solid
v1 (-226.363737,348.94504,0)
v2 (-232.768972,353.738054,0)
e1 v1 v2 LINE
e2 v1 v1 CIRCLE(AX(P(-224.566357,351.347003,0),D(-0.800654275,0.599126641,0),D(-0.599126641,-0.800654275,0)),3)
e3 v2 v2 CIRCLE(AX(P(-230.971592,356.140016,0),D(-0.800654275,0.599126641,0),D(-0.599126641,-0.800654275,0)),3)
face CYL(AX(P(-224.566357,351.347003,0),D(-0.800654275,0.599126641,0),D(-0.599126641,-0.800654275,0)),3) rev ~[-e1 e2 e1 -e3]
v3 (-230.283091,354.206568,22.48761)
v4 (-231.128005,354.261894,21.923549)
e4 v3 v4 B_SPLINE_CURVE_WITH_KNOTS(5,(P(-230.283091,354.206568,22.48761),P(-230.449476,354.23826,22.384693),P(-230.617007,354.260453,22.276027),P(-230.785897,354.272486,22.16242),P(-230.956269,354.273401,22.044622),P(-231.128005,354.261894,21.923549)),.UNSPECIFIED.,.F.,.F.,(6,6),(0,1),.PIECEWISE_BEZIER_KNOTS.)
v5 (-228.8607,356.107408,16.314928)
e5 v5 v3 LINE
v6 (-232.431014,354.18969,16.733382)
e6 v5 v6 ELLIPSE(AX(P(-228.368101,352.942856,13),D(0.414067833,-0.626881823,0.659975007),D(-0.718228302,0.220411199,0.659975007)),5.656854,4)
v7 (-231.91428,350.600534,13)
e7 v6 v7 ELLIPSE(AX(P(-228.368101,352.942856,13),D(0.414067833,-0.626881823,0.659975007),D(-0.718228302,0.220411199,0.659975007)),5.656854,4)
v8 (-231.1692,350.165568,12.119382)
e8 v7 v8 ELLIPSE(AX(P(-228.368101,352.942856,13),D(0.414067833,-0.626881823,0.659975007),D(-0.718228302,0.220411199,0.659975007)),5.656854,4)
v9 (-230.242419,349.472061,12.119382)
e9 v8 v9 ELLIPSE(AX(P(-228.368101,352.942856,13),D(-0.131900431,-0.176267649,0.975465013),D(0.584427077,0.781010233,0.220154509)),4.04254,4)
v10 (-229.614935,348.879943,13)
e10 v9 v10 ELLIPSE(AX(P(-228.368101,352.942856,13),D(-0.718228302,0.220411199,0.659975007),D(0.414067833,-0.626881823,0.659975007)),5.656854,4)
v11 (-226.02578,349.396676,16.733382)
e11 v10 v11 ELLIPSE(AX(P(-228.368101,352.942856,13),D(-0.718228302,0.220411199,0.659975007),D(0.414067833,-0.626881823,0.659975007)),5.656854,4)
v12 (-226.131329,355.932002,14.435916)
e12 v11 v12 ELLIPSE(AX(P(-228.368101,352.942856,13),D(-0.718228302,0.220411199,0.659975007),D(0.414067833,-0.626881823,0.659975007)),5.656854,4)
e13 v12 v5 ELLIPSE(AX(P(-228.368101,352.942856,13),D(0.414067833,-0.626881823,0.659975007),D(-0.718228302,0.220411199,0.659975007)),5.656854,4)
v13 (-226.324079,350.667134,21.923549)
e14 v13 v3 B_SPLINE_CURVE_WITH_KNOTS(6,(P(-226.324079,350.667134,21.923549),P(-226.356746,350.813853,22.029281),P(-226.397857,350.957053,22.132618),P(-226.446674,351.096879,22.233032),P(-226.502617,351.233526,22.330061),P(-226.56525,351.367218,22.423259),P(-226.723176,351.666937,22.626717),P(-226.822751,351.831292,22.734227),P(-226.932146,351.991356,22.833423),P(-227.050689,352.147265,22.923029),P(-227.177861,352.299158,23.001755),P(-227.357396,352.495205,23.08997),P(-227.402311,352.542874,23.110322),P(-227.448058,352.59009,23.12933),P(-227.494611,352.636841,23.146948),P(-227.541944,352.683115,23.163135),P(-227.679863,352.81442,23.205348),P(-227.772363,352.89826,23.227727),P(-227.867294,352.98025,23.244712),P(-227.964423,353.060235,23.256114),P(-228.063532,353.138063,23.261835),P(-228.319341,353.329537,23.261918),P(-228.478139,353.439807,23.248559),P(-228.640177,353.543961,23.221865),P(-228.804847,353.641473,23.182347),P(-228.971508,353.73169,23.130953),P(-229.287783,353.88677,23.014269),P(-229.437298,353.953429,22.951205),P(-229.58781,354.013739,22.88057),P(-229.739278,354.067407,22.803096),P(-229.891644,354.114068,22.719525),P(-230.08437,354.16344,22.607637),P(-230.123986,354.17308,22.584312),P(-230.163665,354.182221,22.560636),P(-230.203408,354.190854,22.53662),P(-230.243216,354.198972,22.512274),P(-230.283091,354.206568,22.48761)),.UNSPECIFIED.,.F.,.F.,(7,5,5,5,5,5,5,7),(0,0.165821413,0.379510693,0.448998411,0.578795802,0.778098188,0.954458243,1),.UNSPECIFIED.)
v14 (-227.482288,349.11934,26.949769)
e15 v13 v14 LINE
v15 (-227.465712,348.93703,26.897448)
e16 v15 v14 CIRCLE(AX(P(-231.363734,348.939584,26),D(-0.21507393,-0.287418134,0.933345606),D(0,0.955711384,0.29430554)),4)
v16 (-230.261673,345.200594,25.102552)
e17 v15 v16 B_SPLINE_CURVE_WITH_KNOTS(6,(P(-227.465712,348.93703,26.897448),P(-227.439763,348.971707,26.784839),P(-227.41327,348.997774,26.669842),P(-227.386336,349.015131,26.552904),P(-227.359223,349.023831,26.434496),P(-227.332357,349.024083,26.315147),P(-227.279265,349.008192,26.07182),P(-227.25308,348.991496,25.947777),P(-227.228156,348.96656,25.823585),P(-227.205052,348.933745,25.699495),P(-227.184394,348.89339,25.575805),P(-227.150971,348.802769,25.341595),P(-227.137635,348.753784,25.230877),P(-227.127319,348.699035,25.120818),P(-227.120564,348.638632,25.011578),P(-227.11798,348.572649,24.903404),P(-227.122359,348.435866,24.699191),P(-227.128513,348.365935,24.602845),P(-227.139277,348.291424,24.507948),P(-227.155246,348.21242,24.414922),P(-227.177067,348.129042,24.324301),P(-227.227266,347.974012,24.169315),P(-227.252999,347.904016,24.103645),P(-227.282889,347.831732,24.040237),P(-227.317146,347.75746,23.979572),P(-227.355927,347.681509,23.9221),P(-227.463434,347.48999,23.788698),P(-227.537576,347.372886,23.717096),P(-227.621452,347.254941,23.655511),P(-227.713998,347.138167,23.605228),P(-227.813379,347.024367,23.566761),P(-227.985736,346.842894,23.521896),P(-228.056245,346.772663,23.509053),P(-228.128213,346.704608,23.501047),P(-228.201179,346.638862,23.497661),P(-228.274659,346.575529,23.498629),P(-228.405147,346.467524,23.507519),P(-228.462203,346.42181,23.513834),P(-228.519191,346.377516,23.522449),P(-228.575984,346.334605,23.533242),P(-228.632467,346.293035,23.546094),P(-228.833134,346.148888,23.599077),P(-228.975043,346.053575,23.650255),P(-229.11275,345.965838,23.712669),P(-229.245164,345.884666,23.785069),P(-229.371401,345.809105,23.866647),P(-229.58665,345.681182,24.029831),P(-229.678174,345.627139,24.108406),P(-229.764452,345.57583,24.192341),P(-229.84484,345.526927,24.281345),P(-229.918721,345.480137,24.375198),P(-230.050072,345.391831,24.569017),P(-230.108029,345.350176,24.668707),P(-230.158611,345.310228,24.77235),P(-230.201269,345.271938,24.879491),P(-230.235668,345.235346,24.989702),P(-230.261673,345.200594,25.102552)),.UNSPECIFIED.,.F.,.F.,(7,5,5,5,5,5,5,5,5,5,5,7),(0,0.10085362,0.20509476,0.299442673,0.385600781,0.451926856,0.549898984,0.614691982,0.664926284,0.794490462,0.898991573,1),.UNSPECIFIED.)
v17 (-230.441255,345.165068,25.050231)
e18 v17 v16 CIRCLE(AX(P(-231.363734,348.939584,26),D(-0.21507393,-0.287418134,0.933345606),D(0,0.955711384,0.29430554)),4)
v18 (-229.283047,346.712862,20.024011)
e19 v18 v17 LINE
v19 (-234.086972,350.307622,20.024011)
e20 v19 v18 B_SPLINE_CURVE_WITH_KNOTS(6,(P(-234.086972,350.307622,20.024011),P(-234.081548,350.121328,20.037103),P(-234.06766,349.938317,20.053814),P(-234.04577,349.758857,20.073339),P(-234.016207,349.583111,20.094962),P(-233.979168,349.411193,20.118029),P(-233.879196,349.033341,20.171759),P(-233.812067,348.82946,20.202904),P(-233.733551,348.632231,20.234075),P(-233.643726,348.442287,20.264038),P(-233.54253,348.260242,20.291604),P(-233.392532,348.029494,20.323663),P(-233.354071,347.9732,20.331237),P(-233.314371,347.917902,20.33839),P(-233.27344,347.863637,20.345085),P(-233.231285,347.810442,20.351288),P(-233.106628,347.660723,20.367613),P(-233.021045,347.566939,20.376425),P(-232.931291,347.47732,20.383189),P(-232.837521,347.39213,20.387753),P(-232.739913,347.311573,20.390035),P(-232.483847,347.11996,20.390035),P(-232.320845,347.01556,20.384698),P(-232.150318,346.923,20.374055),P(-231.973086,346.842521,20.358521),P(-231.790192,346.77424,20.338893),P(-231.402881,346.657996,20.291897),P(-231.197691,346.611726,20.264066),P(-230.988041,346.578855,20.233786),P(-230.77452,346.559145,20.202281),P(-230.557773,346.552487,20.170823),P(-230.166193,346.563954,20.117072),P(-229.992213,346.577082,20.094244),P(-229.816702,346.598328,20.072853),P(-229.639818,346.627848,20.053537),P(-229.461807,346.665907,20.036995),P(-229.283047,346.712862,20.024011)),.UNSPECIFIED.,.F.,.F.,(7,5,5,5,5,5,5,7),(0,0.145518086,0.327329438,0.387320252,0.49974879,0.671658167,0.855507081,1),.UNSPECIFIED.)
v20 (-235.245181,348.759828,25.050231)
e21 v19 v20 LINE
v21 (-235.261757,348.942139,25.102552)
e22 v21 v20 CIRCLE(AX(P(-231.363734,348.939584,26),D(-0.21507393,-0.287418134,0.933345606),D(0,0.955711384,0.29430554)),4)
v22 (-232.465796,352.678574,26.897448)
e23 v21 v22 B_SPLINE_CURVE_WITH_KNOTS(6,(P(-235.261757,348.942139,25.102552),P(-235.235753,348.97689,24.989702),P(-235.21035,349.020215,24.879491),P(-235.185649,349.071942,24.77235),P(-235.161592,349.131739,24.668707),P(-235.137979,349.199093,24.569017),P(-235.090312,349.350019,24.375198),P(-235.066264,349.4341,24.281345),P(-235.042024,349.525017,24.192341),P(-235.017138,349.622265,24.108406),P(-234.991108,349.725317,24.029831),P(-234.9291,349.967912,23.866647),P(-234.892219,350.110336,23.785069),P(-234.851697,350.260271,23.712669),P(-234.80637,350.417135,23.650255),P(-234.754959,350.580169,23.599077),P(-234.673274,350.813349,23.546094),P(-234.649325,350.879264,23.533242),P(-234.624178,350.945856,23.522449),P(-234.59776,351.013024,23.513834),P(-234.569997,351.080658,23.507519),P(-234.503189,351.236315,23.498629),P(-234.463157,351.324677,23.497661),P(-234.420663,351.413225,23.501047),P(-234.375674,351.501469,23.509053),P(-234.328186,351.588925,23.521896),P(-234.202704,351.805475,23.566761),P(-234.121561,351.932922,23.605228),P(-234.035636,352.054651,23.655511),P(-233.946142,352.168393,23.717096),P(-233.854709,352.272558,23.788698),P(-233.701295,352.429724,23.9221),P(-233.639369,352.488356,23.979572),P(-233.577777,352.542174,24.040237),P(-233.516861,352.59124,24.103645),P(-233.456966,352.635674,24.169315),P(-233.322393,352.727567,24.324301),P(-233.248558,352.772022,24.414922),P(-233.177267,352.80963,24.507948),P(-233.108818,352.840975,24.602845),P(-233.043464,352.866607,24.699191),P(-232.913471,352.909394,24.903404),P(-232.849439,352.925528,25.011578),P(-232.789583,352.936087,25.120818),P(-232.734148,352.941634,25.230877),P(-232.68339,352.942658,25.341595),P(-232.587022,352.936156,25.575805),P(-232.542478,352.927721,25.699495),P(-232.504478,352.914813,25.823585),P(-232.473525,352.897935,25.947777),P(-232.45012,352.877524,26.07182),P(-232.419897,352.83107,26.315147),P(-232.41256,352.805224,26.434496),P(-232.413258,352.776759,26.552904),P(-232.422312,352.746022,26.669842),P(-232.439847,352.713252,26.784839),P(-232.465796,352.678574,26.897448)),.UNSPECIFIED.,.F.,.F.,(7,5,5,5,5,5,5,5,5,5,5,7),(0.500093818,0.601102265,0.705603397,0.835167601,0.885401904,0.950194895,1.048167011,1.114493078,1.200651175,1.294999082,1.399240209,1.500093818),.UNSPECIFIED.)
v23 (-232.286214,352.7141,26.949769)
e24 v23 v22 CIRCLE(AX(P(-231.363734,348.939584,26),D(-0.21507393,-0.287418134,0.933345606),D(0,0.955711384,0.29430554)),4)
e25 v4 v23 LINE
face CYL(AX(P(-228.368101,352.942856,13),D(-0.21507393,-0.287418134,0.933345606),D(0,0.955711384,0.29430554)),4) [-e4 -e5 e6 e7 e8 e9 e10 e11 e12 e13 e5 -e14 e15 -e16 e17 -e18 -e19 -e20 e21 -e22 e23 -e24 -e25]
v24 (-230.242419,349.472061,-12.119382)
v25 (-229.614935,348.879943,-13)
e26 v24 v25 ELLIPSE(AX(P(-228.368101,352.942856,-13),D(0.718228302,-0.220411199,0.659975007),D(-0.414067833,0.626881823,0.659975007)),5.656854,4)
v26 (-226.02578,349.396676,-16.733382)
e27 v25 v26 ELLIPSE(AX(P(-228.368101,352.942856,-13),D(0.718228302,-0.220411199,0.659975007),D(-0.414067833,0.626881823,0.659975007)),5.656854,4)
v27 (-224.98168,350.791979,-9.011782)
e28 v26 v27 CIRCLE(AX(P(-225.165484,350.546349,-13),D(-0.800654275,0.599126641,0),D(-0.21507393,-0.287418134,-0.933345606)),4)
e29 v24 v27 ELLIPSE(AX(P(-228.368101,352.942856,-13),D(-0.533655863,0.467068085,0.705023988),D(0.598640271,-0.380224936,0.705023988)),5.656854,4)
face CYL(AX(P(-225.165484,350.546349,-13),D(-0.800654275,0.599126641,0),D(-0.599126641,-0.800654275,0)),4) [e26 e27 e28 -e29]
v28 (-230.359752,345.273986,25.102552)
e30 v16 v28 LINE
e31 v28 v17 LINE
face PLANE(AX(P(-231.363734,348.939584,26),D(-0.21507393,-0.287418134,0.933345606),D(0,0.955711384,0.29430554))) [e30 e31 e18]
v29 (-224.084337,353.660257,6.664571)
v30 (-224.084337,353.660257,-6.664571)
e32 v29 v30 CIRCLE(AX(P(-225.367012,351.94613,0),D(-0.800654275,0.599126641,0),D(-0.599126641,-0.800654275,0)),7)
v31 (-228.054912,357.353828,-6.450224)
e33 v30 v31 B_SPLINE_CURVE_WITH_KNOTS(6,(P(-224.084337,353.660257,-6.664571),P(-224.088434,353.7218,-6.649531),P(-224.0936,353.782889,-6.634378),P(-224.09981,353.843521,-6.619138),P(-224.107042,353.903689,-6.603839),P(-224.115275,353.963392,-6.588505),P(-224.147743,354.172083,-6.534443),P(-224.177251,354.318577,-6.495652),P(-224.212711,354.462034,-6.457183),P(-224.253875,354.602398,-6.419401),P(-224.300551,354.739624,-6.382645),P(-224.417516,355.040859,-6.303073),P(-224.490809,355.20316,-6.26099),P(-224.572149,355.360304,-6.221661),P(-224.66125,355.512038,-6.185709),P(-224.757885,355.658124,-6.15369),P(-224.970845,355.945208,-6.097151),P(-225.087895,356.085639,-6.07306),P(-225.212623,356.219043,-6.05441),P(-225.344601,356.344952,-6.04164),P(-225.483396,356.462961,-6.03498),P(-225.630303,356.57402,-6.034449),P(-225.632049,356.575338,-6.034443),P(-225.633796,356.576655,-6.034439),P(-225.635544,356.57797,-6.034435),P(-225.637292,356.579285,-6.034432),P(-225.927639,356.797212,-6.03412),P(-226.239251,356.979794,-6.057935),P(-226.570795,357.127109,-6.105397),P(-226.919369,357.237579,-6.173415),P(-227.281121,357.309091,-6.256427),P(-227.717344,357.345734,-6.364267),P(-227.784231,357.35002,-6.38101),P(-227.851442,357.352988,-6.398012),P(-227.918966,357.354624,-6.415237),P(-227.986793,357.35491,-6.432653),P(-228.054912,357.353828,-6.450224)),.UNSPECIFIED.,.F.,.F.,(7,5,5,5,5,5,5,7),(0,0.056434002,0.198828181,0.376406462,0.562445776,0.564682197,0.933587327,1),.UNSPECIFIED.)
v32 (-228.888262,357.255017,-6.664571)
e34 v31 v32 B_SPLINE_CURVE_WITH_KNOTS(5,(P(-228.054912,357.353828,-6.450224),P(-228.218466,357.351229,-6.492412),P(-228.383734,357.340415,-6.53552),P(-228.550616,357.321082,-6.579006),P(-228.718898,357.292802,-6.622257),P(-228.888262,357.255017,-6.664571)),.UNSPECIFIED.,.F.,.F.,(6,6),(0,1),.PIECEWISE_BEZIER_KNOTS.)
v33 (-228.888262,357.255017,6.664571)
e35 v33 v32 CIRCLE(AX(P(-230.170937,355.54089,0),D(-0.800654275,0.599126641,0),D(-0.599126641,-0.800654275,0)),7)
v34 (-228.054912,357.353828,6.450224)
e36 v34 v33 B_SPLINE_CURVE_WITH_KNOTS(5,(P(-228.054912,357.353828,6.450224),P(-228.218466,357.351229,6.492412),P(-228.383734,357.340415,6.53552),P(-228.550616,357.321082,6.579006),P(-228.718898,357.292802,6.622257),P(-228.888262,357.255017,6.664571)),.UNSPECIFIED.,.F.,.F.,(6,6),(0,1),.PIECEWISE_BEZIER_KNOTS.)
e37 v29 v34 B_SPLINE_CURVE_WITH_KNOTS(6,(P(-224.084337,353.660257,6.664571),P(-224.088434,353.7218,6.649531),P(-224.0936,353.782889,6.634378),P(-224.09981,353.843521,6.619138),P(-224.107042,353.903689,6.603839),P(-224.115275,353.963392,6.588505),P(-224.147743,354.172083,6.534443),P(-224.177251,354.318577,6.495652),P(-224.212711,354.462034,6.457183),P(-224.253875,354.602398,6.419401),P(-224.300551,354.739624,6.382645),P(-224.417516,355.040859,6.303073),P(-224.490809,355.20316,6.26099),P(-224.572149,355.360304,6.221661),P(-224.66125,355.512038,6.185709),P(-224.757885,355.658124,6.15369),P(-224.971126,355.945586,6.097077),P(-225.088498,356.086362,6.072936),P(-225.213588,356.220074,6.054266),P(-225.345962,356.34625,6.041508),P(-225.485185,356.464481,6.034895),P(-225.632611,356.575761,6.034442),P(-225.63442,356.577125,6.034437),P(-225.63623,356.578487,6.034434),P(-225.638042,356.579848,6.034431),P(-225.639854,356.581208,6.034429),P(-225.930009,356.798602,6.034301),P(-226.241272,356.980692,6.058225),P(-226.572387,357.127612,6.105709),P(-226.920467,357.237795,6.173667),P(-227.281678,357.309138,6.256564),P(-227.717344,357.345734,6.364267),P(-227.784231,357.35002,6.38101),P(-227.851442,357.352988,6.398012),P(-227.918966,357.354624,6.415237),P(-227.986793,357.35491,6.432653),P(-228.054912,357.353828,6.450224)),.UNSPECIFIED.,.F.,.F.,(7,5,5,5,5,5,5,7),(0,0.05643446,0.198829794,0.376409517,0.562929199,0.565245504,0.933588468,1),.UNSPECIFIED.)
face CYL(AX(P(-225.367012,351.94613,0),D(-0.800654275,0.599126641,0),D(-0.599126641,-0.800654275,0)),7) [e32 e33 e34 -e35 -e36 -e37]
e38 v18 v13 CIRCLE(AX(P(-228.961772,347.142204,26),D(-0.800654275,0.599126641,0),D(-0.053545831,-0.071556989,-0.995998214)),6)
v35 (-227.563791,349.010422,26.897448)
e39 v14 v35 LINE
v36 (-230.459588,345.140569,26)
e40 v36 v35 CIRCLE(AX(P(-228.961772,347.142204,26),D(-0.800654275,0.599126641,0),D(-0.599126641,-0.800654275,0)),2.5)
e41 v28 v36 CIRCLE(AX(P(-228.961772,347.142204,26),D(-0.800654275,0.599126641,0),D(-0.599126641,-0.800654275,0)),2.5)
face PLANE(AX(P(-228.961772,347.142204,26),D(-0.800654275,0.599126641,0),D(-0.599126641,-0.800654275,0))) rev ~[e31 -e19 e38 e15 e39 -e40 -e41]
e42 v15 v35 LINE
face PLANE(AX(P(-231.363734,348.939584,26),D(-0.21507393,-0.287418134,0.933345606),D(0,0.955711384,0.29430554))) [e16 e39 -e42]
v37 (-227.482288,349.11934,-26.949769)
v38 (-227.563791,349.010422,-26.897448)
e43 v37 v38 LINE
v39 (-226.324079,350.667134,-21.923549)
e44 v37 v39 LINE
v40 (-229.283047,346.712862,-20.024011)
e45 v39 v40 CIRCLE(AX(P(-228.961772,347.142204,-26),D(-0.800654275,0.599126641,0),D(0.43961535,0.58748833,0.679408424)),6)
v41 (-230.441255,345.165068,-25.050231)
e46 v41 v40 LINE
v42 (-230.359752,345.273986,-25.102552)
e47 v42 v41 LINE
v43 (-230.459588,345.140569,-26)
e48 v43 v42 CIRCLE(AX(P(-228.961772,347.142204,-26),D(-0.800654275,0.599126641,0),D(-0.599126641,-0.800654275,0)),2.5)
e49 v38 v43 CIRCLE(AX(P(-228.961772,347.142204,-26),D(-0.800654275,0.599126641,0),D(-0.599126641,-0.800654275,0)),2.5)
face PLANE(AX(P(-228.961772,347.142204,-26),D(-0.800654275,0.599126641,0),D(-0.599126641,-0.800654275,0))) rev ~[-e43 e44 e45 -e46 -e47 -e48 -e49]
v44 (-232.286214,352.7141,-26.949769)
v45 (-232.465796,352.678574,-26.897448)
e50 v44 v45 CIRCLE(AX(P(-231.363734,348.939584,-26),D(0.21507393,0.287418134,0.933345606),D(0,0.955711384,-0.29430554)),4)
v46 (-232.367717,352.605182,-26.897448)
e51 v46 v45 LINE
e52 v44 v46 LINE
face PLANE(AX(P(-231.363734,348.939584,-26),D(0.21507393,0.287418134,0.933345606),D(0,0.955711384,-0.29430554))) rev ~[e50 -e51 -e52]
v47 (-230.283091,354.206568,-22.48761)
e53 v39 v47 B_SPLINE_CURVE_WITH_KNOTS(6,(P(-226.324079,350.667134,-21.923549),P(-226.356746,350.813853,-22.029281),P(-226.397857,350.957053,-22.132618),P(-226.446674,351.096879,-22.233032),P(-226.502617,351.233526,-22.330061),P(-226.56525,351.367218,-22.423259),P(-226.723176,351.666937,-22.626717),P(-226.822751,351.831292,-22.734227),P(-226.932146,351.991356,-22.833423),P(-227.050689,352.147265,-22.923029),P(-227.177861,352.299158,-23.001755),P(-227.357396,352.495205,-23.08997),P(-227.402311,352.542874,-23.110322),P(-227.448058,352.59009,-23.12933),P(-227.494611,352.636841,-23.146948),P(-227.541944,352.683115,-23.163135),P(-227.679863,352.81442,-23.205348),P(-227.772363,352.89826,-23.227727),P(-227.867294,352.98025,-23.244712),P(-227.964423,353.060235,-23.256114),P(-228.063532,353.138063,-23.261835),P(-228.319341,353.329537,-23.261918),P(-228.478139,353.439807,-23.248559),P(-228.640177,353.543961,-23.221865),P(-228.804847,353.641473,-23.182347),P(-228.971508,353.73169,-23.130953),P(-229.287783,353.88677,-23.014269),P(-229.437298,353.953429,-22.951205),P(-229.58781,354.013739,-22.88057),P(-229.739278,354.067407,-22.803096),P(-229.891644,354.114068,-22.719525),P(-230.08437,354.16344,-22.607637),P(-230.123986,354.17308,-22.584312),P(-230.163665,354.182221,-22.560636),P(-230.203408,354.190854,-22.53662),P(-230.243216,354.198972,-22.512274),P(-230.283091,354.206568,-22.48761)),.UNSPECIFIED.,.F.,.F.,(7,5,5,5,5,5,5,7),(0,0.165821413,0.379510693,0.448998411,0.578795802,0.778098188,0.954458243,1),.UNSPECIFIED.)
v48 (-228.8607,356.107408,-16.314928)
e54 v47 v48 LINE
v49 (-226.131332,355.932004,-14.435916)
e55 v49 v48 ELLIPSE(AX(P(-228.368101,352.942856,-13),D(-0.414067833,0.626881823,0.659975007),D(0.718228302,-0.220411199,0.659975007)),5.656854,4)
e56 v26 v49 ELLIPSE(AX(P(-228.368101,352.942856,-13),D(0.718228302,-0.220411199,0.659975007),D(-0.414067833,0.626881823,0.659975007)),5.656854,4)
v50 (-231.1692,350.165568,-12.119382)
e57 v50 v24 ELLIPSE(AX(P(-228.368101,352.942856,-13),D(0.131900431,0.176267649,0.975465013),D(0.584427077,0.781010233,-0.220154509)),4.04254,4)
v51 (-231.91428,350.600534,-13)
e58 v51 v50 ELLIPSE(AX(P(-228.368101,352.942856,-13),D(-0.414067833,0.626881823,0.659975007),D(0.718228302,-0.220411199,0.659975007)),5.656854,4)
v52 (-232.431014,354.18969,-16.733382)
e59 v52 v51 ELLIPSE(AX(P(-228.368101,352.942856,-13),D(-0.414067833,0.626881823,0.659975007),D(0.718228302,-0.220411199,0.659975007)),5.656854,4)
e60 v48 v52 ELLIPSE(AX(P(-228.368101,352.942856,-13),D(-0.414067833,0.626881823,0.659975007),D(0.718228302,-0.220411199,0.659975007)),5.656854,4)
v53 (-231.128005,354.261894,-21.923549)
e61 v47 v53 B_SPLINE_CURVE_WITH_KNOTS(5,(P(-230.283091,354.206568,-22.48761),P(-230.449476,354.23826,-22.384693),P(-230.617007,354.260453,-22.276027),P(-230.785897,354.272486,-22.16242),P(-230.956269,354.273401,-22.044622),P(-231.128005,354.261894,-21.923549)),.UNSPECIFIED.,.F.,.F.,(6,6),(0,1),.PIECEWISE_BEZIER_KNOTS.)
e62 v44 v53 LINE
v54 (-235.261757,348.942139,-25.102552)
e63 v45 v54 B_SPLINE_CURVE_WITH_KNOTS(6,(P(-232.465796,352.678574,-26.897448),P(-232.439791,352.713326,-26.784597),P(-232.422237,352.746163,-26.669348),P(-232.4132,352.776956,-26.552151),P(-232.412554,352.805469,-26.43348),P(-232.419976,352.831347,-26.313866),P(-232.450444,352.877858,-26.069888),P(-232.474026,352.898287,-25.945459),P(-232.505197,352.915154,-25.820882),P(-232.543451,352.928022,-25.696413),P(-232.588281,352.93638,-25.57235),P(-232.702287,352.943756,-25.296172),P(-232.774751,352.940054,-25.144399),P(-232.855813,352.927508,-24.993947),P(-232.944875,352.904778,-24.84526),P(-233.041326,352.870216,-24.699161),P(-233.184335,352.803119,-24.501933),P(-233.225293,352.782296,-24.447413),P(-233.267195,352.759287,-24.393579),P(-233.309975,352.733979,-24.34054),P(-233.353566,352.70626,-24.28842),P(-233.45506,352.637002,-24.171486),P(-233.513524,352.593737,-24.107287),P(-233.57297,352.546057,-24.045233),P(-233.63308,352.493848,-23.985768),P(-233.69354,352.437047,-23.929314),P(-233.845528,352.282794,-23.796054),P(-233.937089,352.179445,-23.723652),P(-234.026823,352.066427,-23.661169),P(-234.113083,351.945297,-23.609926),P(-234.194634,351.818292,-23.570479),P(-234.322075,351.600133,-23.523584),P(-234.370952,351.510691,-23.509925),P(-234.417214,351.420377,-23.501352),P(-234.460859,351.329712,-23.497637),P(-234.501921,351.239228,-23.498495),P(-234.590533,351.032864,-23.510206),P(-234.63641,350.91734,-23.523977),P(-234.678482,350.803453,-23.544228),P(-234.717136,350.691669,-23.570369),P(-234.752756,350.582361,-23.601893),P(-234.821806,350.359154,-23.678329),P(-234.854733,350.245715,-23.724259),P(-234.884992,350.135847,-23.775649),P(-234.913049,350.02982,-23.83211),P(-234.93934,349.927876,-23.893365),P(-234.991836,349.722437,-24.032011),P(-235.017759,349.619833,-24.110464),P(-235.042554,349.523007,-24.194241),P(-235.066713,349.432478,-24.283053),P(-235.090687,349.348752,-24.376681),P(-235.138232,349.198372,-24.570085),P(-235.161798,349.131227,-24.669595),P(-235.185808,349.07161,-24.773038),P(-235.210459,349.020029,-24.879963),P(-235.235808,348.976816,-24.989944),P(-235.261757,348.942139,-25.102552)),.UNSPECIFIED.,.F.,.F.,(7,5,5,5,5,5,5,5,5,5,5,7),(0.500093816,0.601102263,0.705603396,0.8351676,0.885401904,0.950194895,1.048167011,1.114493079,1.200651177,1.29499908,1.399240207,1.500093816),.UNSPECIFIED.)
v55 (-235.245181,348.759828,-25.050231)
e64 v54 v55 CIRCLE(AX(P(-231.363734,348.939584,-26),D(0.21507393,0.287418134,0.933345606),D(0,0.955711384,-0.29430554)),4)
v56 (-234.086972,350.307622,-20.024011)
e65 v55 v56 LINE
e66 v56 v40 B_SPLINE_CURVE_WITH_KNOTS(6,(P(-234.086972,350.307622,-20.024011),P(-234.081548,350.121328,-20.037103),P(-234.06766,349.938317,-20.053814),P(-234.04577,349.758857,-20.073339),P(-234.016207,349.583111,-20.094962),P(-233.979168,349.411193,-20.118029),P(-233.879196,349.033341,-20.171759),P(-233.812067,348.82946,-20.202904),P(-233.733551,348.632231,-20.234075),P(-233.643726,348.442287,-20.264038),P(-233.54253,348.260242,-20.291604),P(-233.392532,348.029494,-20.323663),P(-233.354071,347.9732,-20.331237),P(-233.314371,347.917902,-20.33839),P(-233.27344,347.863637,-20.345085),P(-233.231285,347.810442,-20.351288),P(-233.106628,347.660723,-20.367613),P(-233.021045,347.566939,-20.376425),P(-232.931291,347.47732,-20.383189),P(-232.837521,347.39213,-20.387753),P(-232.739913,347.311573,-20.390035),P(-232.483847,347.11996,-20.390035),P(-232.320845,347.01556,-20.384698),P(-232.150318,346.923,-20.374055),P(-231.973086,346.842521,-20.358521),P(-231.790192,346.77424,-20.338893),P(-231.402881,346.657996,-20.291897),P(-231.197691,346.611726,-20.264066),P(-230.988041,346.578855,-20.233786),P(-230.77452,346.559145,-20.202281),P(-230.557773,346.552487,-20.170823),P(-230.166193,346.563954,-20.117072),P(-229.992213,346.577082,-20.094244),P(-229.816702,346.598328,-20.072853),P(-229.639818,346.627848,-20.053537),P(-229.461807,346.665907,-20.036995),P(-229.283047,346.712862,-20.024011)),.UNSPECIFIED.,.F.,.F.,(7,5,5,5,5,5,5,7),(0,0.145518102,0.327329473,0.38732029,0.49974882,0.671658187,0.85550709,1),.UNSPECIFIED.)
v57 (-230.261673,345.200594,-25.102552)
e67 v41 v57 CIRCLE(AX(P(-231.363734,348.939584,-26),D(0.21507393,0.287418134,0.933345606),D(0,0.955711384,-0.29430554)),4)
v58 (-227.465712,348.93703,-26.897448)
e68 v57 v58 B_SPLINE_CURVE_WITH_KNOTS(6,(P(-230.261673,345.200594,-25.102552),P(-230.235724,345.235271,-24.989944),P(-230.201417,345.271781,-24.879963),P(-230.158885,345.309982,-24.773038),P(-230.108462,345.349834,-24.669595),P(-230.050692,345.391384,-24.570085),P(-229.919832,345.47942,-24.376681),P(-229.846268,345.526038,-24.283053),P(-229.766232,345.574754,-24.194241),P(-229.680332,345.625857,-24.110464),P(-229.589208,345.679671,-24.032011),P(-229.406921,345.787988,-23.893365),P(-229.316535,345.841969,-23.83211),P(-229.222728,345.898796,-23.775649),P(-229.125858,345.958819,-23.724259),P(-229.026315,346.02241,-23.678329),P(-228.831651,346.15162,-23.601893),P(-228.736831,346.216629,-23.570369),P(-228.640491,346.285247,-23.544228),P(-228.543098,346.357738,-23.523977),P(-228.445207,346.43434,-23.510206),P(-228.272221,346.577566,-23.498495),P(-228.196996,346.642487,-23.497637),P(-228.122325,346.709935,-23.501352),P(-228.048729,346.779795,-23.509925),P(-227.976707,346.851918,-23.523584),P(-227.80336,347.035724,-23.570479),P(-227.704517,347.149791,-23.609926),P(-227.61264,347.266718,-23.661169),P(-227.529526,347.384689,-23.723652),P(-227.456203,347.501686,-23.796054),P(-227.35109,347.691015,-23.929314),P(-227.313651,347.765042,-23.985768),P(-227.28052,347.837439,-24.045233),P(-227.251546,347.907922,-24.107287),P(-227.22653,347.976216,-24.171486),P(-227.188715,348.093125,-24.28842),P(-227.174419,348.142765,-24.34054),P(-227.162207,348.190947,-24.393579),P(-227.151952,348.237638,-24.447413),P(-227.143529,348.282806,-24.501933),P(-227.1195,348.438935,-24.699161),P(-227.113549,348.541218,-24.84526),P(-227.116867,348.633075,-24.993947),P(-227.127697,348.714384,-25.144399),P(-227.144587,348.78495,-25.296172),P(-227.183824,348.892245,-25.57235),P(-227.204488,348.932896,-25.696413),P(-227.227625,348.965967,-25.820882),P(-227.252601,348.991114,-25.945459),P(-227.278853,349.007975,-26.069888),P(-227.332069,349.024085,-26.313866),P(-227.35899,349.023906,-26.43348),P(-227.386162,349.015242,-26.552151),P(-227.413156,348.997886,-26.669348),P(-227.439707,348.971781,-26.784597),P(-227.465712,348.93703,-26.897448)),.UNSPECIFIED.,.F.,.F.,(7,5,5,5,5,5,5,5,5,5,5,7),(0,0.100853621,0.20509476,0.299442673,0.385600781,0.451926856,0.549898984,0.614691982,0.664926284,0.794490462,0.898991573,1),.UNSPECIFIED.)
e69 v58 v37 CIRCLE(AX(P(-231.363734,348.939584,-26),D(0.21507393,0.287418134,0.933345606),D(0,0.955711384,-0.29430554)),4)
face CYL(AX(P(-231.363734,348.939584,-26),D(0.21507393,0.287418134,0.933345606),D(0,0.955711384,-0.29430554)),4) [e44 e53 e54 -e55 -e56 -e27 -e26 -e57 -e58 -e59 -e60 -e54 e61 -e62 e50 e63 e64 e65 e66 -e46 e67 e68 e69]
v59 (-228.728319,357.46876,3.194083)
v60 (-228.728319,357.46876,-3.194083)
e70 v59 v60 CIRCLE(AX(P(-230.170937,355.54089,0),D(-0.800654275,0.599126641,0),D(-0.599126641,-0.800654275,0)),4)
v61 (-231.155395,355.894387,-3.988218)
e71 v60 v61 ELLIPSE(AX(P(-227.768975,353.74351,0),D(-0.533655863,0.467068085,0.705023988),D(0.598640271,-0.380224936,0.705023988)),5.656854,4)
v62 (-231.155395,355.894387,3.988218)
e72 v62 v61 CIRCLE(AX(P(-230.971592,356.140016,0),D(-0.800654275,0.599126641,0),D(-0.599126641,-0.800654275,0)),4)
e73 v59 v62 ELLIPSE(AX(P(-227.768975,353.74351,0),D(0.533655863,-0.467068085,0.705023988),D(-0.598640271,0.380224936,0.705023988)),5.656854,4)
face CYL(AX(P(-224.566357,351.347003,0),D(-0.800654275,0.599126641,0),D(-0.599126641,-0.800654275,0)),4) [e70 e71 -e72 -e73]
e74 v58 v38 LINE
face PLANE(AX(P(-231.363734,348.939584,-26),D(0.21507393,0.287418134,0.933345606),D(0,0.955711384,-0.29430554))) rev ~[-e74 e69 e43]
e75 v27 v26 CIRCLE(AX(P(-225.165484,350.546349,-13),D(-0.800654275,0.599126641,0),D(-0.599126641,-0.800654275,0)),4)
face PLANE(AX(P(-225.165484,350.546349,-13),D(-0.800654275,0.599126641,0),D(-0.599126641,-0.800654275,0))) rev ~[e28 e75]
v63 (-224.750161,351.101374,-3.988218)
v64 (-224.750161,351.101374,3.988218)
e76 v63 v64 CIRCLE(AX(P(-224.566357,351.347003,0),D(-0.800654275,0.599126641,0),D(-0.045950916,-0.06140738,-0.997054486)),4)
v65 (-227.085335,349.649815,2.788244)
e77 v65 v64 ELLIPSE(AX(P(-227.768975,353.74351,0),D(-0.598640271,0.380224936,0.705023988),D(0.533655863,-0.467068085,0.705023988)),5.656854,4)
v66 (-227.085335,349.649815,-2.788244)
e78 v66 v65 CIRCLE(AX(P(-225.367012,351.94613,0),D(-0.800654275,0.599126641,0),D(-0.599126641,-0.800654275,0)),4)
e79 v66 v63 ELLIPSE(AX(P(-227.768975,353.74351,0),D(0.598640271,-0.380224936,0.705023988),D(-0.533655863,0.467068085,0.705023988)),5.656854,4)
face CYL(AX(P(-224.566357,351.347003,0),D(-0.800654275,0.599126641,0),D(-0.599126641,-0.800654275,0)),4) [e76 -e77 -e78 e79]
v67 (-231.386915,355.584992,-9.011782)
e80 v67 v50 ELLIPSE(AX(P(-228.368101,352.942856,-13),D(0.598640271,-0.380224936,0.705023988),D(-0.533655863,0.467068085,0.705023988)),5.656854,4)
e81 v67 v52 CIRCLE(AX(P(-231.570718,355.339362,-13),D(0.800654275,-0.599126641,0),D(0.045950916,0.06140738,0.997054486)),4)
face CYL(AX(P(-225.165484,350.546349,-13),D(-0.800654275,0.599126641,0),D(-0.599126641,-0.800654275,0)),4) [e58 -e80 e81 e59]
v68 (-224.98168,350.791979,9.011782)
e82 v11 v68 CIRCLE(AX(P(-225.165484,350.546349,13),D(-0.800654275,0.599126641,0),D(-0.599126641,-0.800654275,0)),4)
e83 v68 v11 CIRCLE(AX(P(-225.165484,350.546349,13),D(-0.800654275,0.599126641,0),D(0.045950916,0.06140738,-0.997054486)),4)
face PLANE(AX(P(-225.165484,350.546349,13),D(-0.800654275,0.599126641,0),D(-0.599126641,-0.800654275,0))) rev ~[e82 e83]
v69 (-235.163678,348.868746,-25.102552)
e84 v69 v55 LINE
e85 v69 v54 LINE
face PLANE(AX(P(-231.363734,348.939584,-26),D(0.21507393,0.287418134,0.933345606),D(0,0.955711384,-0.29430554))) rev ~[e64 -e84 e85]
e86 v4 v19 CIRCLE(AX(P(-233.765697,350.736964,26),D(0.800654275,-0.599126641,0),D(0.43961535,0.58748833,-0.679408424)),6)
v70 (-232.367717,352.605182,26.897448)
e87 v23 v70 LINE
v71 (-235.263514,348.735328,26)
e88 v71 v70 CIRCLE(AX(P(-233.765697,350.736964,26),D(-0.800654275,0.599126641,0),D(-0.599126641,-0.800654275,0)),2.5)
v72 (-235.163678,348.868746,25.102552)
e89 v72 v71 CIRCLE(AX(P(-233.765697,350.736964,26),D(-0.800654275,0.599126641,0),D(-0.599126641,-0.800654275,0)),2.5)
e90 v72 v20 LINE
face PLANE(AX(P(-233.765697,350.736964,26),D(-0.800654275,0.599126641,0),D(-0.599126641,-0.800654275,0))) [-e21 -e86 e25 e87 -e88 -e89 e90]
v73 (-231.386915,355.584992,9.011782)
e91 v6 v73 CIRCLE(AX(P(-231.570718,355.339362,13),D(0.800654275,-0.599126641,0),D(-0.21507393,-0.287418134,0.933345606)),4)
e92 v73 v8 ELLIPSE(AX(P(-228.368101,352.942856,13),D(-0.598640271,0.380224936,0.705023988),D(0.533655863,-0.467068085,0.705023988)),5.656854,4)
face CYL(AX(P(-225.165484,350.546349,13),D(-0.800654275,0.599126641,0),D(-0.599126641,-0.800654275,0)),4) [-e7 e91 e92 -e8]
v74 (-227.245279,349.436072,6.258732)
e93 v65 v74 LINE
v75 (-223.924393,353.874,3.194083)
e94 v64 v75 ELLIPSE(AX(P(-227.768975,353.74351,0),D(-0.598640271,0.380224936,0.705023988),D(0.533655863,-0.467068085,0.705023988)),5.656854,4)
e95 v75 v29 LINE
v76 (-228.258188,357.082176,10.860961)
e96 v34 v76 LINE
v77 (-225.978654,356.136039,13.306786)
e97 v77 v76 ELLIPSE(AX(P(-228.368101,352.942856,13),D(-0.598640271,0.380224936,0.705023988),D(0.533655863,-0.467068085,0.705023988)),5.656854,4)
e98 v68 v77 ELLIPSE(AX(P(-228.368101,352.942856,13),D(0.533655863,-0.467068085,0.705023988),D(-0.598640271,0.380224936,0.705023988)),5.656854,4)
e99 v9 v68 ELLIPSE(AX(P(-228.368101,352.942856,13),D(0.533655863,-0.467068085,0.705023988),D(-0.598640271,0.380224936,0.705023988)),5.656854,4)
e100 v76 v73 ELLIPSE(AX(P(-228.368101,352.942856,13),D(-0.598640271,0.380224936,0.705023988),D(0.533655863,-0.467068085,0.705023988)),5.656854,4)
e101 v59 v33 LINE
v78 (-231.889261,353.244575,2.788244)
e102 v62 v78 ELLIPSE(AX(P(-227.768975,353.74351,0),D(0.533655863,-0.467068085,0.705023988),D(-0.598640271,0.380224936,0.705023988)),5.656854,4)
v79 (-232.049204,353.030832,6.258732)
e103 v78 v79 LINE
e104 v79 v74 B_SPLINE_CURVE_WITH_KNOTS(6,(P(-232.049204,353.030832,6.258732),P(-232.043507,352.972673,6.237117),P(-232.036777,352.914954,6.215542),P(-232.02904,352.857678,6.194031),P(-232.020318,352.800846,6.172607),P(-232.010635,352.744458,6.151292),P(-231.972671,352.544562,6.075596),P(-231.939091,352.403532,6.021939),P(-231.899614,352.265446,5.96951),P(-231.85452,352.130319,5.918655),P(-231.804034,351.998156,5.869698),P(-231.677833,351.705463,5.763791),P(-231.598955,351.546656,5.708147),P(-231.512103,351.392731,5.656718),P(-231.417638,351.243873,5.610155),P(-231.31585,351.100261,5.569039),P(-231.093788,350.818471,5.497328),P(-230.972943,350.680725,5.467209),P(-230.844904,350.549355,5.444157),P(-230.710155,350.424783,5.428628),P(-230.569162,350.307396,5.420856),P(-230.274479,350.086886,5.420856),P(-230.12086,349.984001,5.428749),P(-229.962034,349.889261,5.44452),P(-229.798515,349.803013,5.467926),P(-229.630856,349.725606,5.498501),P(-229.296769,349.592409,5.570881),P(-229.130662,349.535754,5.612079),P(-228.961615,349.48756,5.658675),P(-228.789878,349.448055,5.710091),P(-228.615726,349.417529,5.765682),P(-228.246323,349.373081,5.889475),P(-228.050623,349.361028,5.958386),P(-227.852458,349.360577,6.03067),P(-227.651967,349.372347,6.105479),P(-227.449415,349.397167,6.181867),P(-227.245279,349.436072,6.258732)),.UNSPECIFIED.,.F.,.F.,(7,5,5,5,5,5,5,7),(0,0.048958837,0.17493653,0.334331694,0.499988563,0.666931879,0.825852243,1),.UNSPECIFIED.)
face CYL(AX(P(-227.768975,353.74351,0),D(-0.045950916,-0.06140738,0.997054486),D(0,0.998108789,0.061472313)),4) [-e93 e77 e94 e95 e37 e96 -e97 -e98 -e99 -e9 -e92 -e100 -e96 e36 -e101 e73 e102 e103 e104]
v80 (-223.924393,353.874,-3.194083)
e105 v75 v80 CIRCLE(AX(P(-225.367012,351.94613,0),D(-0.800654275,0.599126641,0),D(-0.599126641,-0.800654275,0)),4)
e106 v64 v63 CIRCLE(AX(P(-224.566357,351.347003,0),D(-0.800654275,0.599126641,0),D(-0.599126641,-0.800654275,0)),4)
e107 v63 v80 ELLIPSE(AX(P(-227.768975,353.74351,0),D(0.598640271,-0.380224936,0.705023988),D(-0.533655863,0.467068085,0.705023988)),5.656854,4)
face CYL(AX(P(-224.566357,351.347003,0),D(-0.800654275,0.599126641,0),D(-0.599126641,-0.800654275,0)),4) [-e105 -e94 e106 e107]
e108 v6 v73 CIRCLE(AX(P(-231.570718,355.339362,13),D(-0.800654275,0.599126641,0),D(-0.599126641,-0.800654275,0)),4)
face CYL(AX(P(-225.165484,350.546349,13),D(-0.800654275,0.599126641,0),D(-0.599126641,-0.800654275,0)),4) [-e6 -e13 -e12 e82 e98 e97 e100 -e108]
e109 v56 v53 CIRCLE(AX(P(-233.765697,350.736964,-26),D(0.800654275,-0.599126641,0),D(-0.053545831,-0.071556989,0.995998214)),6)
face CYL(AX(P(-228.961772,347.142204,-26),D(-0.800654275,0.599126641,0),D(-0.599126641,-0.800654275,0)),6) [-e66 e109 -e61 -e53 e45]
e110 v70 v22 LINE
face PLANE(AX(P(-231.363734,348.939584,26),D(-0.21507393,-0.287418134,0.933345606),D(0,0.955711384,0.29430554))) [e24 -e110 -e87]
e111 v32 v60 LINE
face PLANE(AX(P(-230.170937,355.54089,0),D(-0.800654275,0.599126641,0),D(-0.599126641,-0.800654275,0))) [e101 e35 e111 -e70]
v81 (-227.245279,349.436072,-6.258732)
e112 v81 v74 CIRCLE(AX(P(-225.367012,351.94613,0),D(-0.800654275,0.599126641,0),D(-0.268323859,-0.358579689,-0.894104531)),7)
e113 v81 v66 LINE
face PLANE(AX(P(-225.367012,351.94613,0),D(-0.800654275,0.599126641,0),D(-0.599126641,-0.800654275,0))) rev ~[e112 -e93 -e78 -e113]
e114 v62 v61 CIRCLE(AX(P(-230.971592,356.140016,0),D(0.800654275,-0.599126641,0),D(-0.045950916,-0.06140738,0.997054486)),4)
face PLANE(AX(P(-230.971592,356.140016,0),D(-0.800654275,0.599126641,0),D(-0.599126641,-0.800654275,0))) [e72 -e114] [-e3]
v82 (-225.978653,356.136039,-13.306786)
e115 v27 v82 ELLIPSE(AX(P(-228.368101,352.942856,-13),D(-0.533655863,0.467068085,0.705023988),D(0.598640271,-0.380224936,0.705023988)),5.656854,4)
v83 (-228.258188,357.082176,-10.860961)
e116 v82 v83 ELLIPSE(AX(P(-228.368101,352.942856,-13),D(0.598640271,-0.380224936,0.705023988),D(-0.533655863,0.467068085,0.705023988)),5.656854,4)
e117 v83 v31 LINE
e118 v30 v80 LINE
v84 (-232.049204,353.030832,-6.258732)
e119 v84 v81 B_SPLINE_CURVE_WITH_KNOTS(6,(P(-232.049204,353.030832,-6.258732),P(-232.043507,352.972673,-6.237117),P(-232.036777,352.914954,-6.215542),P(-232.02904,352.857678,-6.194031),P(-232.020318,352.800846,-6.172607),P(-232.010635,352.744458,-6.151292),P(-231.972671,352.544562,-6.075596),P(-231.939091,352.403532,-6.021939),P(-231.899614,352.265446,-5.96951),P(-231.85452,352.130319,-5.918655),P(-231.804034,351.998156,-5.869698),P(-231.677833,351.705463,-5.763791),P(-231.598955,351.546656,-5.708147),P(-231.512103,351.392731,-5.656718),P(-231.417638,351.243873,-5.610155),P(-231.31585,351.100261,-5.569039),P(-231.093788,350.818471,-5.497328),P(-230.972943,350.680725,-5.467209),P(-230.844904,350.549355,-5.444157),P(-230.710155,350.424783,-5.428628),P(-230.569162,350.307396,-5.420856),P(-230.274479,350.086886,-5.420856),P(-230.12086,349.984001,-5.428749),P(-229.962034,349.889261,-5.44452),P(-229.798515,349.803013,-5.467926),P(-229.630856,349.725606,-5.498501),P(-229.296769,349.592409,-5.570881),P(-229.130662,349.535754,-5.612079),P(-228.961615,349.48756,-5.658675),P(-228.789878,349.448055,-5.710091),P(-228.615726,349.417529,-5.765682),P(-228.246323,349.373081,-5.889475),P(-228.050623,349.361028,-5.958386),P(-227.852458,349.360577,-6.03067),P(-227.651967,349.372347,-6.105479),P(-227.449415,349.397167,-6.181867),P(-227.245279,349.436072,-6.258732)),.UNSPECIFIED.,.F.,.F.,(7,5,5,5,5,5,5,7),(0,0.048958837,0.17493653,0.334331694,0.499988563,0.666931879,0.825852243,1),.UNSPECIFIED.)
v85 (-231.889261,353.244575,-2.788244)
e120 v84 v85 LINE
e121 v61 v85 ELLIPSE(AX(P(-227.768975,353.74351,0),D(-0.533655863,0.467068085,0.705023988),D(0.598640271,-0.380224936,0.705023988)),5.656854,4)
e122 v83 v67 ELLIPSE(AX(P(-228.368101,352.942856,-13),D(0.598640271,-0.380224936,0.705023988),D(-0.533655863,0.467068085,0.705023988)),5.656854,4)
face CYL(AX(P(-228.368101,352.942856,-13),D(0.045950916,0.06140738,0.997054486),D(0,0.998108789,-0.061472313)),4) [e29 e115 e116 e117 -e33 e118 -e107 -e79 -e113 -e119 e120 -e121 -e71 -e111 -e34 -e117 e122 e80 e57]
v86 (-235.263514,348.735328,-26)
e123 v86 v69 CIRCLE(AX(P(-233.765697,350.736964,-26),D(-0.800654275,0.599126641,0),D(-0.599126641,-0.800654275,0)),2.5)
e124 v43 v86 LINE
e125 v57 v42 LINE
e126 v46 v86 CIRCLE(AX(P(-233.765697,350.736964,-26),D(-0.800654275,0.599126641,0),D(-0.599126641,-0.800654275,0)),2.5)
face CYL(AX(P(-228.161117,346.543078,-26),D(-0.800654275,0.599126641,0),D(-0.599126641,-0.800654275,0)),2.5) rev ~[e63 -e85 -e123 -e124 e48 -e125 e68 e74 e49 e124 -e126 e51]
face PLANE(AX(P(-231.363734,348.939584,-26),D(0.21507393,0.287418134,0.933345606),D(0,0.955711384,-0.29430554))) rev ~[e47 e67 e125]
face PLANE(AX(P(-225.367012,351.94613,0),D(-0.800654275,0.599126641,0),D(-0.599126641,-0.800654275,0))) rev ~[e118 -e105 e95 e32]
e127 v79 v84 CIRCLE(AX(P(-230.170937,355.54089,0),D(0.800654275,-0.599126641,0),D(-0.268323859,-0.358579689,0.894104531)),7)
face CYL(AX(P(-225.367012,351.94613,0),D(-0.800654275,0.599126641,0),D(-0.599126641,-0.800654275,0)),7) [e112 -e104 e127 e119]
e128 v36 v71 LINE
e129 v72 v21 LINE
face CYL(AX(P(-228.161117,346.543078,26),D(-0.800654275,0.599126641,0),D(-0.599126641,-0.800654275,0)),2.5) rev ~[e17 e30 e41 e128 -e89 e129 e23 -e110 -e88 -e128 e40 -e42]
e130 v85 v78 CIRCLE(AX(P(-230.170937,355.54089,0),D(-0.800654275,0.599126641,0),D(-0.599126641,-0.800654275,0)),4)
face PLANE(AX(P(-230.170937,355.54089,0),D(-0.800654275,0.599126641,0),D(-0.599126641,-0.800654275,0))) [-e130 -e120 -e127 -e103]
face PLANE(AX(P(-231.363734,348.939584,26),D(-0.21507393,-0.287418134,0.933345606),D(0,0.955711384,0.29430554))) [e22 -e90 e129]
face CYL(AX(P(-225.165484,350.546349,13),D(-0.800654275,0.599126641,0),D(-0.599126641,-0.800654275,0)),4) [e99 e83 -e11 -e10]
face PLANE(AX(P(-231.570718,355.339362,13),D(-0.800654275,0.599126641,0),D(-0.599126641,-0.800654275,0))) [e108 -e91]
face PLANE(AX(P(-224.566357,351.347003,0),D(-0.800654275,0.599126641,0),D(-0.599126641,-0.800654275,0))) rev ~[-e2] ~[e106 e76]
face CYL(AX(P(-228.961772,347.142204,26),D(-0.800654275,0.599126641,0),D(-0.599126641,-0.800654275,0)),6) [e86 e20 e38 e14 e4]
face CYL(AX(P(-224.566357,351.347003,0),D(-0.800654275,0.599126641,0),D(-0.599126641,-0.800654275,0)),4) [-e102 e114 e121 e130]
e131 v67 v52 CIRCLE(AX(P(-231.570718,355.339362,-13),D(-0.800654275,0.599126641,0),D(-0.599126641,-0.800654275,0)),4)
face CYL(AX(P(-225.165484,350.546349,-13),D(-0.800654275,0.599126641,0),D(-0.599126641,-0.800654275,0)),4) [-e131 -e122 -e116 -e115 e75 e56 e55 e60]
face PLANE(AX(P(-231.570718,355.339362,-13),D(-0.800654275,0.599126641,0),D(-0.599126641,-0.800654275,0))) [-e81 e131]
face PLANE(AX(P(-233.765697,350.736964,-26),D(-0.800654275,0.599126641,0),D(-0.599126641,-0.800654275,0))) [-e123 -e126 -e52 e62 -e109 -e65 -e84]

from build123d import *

# Parameters (mm, degrees)
ARCO_1_PROFILE_R           = 4
ARCO_2_PROFILE_R           = 4
ARCO_3_PROFILE_R           = 4
ARCO_4_PROFILE_R           = 4
ARCO_CODO_1_PROFILE_R      = 4
ARCO_CODO_2_PROFILE_R      = 4
ARCO_CODO_3_PROFILE_R      = 4
BOSS_IZQ_PROFILE_R         = 6
BOSS_DCHO_PROFILE_R        = 6
BOSS_CENTRO_PROFILE_R      = 7
PIVOTE_IZQ_PROFILE_R       = 2.5
PIVOTE_DCHO_PROFILE_R      = 2.5
TALADRO_TORNILLO_PROFILE_R = 3


with BuildPart() as part:
    # Arco_1: sweep along a curve in space
    with BuildLine() as arco_1_path:
        Line((-231.363734357, 348.939584198, -26), (-228.368101152, 352.942855573, -13))
    # Arco_1 profile (on start of the path) → Arco_1 (sweep)
    with BuildSketch(Plane(origin=(-231.363734357, 348.939584198, -26), x_dir=(0, 0.9557113836787837, -0.29430554039430606), z_dir=(0.215073929957754, 0.28741813449044995, 0.9333456062030596))):
        Circle(ARCO_1_PROFILE_R)
    sweep(path=arco_1_path.line)

    # Arco_2: sweep along a curve in space
    with BuildLine() as arco_2_path:
        Line((-228.368101152, 352.942855573, -13), (-227.768974511, 353.743509848, 0))
    # Arco_2 profile (on start of the path) → Arco_2 (sweep)
    with BuildSketch(Plane(origin=(-228.368101152, 352.942855573, -13), x_dir=(0, 0.9981087890283697, -0.06147231298984599), z_dir=(0.04595091574946005, 0.06140737971093147, 0.9970544855015816))):
        Circle(ARCO_2_PROFILE_R)
    sweep(path=arco_2_path.line)

    # Arco_3: sweep along a curve in space
    with BuildLine() as arco_3_path:
        Line((-227.768974511, 353.743509848, 0), (-228.368101152, 352.942855573, 13))
    # Arco_3 profile (on start of the path) → Arco_3 (sweep)
    with BuildSketch(Plane(origin=(-227.768974511, 353.743509848, 0), x_dir=(0, 0.9981087890283697, 0.06147231298984599), z_dir=(-0.04595091574946005, -0.06140737971093147, 0.9970544855015816))):
        Circle(ARCO_3_PROFILE_R)
    sweep(path=arco_3_path.line)

    # Arco_4: sweep along a curve in space
    with BuildLine() as arco_4_path:
        Line((-228.368101152, 352.942855573, 13), (-231.363734357, 348.939584198, 26))
    # Arco_4 profile (on start of the path) → Arco_4 (sweep)
    with BuildSketch(Plane(origin=(-228.368101152, 352.942855573, 13), x_dir=(0, 0.9557113836787837, 0.29430554039430606), z_dir=(-0.215073929957754, -0.28741813449044995, 0.9333456062030596))):
        Circle(ARCO_4_PROFILE_R)
    sweep(path=arco_4_path.line)

    # Arco_codo_1: sweep along a curve in space
    with BuildLine() as arco_codo_1_path:
        Line((-225.165484052, 350.546349009, -13), (-231.570718252, 355.339362137, -13))
    # Arco_codo_1 profile (on start of the path) → Arco_codo_1 (sweep)
    with BuildSketch(Plane(origin=(-225.165484052, 350.546349009, -13), x_dir=(-0.5991266409502999, -0.8006542750173826, 0), z_dir=(-0.8006542750173826, 0.5991266409502999, 0))):
        Circle(ARCO_CODO_1_PROFILE_R)
    sweep(path=arco_codo_1_path.line)

    # Arco_codo_2: sweep along a curve in space
    with BuildLine() as arco_codo_2_path:
        Line((-224.566357411, 351.347003284, 0), (-230.971591611, 356.140016412, 0))
    # Arco_codo_2 profile (on start of the path) → Arco_codo_2 (sweep)
    with BuildSketch(Plane(origin=(-224.566357411, 351.347003284, 0), x_dir=(-0.5991266409502999, -0.8006542750173826, 0), z_dir=(-0.8006542750173826, 0.5991266409502999, 0))):
        Circle(ARCO_CODO_2_PROFILE_R)
    sweep(path=arco_codo_2_path.line)

    # Arco_codo_3: sweep along a curve in space
    with BuildLine() as arco_codo_3_path:
        Line((-225.165484052, 350.546349009, 13), (-231.570718252, 355.339362137, 13))
    # Arco_codo_3 profile (on start of the path) → Arco_codo_3 (sweep)
    with BuildSketch(Plane(origin=(-225.165484052, 350.546349009, 13), x_dir=(-0.5991266409502999, -0.8006542750173826, 0), z_dir=(-0.8006542750173826, 0.5991266409502999, 0))):
        Circle(ARCO_CODO_3_PROFILE_R)
    sweep(path=arco_codo_3_path.line)

    # Boss_izq: sweep along a curve in space
    with BuildLine() as boss_izq_path:
        Line((-228.961771531, 347.142204275, -26), (-233.765697182, 350.736964121, -26))
    # Boss_izq profile (on start of the path) → Boss_izq (sweep)
    with BuildSketch(Plane(origin=(-228.961771531, 347.142204275, -26), x_dir=(-0.5991266409502979, -0.8006542750173841, 0), z_dir=(-0.8006542750173841, 0.5991266409502979, 0))):
        Circle(BOSS_IZQ_PROFILE_R)
    sweep(path=boss_izq_path.line)

    # Boss_dcho: sweep along a curve in space
    with BuildLine() as boss_dcho_path:
        Line((-228.961771531, 347.142204275, 26), (-233.765697182, 350.736964121, 26))
    # Boss_dcho profile (on start of the path) → Boss_dcho (sweep)
    with BuildSketch(Plane(origin=(-228.961771531, 347.142204275, 26), x_dir=(-0.5991266409502979, -0.8006542750173841, 0), z_dir=(-0.8006542750173841, 0.5991266409502979, 0))):
        Circle(BOSS_DCHO_PROFILE_R)
    sweep(path=boss_dcho_path.line)

    # Boss_centro: sweep along a curve in space
    with BuildLine() as boss_centro_path:
        Line((-225.367011686, 351.946129925, 0), (-230.170937336, 355.540889771, 0))
    # Boss_centro profile (on start of the path) → Boss_centro (sweep)
    with BuildSketch(Plane(origin=(-225.367011686, 351.946129925, 0), x_dir=(-0.5991266409502979, -0.8006542750173841, 0), z_dir=(-0.8006542750173841, 0.5991266409502979, 0))):
        Circle(BOSS_CENTRO_PROFILE_R)
    sweep(path=boss_centro_path.line)

    # Pivote_izq: sweep along a curve in space
    with BuildLine() as pivote_izq_path:
        Line((-228.161117256, 346.543077634, -26), (-234.566351457, 351.336090762, -26))
    # Pivote_izq profile (on start of the path) → Pivote_izq (sweep, cut)
    with BuildSketch(Plane(origin=(-228.161117256, 346.543077634, -26), x_dir=(-0.5991266409502999, -0.8006542750173826, 0), z_dir=(-0.8006542750173826, 0.5991266409502999, 0))):
        Circle(PIVOTE_IZQ_PROFILE_R)
    sweep(path=pivote_izq_path.line, mode=Mode.SUBTRACT)

    # Pivote_dcho: sweep along a curve in space
    with BuildLine() as pivote_dcho_path:
        Line((-228.161117256, 346.543077634, 26), (-234.566351457, 351.336090762, 26))
    # Pivote_dcho profile (on start of the path) → Pivote_dcho (sweep, cut)
    with BuildSketch(Plane(origin=(-228.161117256, 346.543077634, 26), x_dir=(-0.5991266409502999, -0.8006542750173826, 0), z_dir=(-0.8006542750173826, 0.5991266409502999, 0))):
        Circle(PIVOTE_DCHO_PROFILE_R)
    sweep(path=pivote_dcho_path.line, mode=Mode.SUBTRACT)

    # Taladro_tornillo: sweep along a curve in space
    with BuildLine() as taladro_tornillo_path:
        Line((-224.566357411, 351.347003284, 0), (-230.971591611, 356.140016412, 0))
    # Taladro_tornillo profile (on start of the path) → Taladro_tornillo (sweep, cut)
    with BuildSketch(Plane(origin=(-224.566357411, 351.347003284, 0), x_dir=(-0.5991266409502999, -0.8006542750173826, 0), z_dir=(-0.8006542750173826, 0.5991266409502999, 0))):
        Circle(TALADRO_TORNILLO_PROFILE_R)
    sweep(path=taladro_tornillo_path.line, mode=Mode.SUBTRACT)


solid = part.part
